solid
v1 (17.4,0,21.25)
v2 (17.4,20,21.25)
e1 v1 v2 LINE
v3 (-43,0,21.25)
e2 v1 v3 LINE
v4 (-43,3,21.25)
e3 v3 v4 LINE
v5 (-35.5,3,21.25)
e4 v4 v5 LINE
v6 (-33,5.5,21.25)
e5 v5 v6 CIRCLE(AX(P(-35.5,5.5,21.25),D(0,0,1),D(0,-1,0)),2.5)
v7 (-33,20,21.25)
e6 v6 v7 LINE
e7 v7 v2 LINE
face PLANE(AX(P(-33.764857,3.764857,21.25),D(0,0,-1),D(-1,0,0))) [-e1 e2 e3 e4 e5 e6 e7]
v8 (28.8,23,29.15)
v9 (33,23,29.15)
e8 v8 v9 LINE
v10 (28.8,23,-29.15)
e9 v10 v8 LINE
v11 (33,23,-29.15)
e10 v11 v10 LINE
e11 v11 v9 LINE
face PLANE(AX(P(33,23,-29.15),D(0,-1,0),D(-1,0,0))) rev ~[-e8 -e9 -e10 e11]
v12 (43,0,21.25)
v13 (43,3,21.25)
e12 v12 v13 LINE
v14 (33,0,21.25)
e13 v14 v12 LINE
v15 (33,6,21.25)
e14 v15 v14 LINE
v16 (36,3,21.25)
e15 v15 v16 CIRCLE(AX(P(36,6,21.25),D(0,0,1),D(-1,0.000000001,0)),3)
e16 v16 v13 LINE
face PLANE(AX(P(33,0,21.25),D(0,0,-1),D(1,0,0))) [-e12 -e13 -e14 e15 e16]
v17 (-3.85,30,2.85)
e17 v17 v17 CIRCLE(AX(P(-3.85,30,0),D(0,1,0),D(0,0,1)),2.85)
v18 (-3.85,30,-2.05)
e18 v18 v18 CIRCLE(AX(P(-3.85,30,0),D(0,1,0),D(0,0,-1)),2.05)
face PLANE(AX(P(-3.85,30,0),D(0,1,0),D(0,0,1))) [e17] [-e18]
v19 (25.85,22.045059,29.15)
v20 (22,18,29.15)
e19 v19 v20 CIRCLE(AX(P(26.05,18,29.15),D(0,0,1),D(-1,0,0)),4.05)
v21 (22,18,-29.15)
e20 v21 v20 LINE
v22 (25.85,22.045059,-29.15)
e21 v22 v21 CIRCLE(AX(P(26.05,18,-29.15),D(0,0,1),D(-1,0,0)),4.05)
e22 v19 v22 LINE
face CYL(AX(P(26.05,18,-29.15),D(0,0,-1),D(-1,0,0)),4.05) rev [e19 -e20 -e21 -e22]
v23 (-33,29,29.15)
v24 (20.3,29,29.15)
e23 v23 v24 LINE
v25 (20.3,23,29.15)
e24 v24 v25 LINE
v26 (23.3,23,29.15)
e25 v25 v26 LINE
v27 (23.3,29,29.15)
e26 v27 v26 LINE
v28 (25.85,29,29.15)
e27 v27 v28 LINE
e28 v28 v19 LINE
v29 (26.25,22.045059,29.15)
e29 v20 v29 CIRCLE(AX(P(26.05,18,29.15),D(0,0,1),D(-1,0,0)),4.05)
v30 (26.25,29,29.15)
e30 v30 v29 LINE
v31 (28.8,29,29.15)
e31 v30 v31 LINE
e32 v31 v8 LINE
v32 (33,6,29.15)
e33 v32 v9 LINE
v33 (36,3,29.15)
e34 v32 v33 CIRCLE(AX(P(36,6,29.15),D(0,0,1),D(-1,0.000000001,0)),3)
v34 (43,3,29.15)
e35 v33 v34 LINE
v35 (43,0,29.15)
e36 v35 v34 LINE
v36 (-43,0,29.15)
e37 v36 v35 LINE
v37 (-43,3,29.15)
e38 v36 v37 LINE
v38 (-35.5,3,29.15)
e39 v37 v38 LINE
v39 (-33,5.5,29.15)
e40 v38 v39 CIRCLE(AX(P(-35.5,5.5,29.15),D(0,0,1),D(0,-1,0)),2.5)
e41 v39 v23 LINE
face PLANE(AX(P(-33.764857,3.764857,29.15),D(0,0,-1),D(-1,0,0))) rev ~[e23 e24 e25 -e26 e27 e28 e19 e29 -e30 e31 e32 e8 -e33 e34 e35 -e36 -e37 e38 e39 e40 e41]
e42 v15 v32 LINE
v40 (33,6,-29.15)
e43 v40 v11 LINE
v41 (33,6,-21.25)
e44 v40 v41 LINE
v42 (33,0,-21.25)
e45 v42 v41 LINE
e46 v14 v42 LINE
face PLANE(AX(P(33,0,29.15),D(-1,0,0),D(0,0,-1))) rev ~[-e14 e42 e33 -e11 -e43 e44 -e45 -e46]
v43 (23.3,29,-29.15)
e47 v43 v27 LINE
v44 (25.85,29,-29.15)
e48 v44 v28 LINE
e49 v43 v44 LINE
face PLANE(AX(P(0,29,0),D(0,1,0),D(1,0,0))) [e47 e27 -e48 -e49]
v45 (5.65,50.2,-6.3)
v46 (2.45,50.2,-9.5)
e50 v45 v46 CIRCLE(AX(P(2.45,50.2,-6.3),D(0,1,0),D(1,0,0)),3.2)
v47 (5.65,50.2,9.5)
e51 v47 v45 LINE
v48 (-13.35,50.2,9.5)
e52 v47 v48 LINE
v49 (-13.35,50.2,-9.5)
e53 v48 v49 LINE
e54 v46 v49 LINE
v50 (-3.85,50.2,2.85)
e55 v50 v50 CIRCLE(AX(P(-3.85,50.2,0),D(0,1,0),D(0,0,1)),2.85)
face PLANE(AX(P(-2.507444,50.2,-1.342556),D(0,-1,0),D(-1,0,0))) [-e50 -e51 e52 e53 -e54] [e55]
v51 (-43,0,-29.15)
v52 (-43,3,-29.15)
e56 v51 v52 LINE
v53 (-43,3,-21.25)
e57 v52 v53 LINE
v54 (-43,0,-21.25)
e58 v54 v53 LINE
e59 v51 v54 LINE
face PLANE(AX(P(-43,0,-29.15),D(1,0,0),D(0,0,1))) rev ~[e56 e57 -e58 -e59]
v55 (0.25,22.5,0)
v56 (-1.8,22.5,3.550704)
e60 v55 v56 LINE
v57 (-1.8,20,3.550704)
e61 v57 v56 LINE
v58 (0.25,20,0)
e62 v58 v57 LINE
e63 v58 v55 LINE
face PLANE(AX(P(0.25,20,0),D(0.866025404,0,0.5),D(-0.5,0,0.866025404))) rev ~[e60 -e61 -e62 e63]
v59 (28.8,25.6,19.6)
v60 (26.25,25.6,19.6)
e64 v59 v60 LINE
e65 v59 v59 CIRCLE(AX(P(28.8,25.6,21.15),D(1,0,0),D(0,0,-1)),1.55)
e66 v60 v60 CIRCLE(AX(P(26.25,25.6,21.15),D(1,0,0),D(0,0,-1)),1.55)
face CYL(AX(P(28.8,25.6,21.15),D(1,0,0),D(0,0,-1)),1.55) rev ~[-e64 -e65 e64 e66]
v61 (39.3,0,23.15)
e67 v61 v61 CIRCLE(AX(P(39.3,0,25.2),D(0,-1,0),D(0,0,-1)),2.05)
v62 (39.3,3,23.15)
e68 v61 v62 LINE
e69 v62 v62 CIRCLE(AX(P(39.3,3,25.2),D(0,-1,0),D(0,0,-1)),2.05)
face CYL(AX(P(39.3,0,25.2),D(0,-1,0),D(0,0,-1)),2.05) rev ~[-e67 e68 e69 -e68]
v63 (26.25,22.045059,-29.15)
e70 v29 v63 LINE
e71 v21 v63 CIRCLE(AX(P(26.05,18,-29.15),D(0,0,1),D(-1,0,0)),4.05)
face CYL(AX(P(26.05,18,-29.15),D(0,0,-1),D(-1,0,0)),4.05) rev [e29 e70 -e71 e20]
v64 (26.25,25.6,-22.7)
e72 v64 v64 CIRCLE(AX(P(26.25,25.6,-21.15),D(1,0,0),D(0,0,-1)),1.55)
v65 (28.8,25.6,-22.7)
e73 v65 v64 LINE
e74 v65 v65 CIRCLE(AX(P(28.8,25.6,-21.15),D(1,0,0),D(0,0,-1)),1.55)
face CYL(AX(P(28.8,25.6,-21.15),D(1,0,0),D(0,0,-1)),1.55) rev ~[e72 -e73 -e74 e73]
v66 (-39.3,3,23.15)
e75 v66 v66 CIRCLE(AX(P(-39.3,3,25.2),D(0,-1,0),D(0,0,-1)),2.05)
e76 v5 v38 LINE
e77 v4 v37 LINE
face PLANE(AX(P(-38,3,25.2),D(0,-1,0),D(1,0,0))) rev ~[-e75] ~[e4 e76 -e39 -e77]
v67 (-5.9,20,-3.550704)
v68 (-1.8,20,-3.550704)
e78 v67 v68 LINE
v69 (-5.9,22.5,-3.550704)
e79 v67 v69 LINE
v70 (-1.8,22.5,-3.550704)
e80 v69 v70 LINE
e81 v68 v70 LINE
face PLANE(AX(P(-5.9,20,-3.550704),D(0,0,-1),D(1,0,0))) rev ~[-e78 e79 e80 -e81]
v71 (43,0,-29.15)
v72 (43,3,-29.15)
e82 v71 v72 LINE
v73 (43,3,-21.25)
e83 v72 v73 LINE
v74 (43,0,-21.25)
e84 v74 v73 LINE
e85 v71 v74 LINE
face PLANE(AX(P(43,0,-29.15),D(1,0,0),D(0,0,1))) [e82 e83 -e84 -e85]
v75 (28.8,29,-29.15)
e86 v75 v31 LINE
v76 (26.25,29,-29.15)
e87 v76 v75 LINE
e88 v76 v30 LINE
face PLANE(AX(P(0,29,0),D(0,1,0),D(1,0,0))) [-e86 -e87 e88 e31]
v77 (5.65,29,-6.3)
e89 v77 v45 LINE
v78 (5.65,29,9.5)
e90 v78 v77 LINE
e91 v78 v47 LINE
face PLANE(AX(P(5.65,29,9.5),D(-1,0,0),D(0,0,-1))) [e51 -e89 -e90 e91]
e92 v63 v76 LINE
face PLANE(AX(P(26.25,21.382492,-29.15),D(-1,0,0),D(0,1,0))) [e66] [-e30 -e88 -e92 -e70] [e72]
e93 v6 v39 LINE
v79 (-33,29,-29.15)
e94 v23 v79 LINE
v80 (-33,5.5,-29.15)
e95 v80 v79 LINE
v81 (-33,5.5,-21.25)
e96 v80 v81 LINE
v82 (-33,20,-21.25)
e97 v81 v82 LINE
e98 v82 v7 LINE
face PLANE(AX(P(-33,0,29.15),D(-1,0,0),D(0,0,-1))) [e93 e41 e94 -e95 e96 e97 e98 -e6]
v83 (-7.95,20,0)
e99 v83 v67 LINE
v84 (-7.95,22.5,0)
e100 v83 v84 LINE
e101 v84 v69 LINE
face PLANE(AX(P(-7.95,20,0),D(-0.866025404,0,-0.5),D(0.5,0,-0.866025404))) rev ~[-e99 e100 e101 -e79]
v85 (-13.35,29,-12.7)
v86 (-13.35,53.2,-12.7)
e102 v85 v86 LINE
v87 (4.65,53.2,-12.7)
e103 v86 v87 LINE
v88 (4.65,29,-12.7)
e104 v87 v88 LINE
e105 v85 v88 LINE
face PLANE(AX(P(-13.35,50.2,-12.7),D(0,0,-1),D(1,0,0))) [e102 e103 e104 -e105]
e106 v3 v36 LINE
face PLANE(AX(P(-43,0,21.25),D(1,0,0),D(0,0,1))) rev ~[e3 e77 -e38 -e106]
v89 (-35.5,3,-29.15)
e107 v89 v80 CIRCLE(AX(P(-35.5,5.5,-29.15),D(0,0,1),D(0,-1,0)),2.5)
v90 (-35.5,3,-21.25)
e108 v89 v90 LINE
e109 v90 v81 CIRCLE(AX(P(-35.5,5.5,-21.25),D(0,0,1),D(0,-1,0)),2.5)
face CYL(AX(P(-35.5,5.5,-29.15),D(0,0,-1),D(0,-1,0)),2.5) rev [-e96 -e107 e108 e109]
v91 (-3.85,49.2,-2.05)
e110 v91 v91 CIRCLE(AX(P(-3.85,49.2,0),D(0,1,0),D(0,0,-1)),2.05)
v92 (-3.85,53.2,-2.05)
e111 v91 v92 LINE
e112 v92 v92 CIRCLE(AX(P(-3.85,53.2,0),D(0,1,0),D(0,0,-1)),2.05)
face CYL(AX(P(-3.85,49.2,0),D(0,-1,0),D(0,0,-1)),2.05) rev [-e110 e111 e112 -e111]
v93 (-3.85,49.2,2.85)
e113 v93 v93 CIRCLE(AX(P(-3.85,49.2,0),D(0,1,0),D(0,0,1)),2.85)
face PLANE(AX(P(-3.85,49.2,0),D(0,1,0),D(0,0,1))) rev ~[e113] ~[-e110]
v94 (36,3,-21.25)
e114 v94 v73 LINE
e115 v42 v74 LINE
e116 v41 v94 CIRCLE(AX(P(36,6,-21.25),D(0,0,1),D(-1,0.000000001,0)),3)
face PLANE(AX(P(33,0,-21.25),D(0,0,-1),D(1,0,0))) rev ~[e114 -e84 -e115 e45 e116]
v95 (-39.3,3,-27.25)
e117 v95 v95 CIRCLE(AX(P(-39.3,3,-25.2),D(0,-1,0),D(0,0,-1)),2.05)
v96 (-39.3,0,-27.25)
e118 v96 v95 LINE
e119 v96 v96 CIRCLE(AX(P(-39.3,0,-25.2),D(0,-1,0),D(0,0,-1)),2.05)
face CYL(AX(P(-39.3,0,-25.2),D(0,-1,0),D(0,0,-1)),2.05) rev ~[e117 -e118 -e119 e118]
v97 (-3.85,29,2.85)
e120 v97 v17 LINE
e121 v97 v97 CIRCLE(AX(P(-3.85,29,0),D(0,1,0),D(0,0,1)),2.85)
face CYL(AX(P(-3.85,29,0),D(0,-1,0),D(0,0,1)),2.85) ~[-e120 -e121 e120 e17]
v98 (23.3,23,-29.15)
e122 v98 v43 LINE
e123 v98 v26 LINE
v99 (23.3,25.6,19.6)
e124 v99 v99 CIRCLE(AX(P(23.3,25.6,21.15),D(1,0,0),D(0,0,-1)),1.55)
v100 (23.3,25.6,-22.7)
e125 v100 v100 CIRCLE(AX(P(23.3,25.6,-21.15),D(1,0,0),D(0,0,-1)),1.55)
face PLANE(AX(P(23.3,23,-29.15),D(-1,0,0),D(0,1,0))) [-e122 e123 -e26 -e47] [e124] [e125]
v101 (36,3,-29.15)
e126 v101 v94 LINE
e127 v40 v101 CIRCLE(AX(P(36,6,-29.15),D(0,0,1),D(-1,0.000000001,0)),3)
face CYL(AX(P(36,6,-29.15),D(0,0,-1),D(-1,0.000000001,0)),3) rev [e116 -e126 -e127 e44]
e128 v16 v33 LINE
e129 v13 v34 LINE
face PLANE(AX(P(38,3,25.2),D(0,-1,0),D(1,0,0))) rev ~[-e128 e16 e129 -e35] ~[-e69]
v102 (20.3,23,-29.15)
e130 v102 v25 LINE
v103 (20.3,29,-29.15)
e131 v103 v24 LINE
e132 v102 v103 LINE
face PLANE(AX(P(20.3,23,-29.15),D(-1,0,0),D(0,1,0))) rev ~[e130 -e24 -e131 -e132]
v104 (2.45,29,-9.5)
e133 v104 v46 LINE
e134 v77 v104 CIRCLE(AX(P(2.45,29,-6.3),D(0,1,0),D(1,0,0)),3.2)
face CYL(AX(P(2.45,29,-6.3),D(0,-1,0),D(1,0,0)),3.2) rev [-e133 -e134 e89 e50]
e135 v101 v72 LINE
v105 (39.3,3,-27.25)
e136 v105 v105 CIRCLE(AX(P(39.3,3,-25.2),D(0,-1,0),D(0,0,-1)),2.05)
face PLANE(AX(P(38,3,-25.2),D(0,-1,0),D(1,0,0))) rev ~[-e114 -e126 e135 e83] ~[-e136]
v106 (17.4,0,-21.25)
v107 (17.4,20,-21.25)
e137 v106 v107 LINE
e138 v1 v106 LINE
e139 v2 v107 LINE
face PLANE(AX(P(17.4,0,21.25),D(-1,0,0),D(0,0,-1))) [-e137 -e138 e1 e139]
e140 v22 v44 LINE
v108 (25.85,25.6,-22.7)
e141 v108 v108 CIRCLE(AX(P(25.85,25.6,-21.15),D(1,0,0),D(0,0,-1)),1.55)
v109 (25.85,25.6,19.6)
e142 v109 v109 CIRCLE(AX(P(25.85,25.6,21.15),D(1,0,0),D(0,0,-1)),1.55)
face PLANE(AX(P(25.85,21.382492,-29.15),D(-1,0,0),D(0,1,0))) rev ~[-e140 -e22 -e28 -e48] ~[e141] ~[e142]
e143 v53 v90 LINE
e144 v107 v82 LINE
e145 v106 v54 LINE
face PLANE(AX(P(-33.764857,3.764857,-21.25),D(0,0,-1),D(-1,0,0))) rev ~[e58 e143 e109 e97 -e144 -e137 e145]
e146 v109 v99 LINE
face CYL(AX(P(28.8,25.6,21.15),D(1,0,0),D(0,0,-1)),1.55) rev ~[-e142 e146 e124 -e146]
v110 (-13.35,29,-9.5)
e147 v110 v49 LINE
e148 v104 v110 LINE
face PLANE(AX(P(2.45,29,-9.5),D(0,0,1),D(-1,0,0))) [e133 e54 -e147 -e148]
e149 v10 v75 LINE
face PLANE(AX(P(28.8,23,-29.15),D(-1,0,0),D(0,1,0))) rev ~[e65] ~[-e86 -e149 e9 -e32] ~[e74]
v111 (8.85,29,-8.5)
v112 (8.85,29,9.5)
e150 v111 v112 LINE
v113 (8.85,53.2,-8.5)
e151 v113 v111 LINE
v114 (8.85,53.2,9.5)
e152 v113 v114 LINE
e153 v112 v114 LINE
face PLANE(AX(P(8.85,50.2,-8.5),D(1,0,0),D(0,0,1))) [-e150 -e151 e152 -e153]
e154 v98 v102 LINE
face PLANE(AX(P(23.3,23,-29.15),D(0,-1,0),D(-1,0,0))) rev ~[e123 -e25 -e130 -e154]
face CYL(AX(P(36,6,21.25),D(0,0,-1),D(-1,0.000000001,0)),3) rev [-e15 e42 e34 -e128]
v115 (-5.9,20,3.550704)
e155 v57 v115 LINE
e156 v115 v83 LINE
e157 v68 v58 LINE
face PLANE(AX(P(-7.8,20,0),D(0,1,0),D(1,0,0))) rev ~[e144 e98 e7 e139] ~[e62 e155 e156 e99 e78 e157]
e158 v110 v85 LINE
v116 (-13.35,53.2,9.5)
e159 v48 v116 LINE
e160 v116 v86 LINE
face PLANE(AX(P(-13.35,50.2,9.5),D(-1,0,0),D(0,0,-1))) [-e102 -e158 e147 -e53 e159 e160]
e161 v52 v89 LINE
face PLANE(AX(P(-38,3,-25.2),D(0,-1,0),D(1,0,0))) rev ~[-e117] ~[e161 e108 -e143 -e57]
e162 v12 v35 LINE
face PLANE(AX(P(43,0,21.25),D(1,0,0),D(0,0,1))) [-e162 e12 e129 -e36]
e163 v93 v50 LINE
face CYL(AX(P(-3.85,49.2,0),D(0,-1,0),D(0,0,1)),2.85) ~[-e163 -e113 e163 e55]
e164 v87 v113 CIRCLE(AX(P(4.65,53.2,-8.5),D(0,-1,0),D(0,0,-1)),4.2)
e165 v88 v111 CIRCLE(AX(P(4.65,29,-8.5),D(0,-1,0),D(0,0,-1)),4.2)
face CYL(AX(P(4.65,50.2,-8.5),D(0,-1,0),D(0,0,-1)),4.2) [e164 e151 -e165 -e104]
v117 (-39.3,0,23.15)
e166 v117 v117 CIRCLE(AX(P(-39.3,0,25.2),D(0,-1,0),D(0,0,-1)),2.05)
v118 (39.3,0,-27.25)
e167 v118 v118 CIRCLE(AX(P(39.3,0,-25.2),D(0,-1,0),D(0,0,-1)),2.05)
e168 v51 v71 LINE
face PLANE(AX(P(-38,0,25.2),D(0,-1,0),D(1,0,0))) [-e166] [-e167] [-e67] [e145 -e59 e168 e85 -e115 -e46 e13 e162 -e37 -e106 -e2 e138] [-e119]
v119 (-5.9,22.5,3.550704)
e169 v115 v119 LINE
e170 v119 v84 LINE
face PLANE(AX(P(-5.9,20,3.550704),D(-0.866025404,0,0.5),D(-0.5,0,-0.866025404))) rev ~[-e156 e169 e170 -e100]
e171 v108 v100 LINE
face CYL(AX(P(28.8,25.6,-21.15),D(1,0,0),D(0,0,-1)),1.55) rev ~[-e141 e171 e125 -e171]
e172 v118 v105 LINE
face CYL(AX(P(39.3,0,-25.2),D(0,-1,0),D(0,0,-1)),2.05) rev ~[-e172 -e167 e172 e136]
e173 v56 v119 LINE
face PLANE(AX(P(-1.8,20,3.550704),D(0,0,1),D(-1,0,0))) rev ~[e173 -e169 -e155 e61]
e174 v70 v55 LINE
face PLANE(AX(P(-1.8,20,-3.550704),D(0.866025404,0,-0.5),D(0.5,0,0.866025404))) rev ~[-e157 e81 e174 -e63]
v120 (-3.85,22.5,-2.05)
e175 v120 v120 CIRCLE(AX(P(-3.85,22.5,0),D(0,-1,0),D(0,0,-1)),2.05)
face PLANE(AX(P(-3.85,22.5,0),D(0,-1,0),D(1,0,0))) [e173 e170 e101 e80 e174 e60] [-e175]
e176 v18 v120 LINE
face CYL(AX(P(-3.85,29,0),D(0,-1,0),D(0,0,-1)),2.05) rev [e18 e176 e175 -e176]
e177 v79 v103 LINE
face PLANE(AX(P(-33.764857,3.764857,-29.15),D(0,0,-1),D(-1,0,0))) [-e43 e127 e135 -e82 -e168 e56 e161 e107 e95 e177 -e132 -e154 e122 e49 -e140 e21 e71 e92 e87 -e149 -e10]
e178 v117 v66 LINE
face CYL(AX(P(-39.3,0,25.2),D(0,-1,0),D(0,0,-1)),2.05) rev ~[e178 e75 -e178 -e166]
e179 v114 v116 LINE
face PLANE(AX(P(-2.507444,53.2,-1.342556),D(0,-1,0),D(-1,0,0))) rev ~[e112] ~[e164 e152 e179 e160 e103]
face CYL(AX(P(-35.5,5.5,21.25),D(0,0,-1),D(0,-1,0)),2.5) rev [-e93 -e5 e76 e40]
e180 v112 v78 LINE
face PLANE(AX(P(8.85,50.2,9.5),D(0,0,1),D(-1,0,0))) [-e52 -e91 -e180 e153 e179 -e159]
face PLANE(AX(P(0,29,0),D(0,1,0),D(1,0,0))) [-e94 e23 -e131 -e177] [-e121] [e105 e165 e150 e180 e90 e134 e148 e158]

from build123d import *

# Parameters (mm, degrees)
SKETCH1_W           = 66
SKETCH1_H           = 58.3
SKETCH1_R           = 2.05
BOSS_EXTRUDE1_DEPTH = 29
CUT_EXTRUDE1_START  = -29
CUT_EXTRUDE1_DEPTH  = 20
SKETCH6_W           = 10
SKETCH6_H           = 7.9
SKETCH6_R           = 2.05
BOSS_EXTRUDE2_DEPTH = 3
BOSS_EXTRUDE4_DEPTH = 7.9
BOSS_EXTRUDE5_START = -50.4
BOSS_EXTRUDE5_DEPTH = 7.9
CUT_EXTRUDE4_START  = -58.3
SKETCH8_R           = 4.05
CUT_EXTRUDE4_DEPTH  = 58.3
CUT_EXTRUDE5_REACH  = 80.031
SKETCH10_W          = 3
SKETCH10_H          = 6
SKETCH10_W_2        = 4.2
SKETCH10_W_3        = 0.4
SKETCH10_H_2        = 7.617508416
CUT_EXTRUDE6_REACH  = 84.74
SKETCH11_R          = 1.55
CUT_EXTRUDE7_DEPTH  = 2.5
BOSS_EXTRUDE6_DEPTH = 21.2
SKETCH14_R          = 2.05
BOSS_EXTRUDE7_DEPTH = 3
BOSS_EXTRUDE8_START = -4
SKETCH15_R          = 2.85
SKETCH15_R_2        = 2.05
BOSS_EXTRUDE8_DEPTH = 1
BOSS_EXTRUDE9_START = -24.2
SKETCH15_2_R        = 2.85
SKETCH15_2_R_2      = 2.05
BOSS_EXTRUDE9_DEPTH = 1


with BuildPart() as part:
    # Sketch1 → Boss-Extrude1 (new body)
    with BuildSketch(Plane(origin=(0, 0, 0), x_dir=(1, 0, 0), z_dir=(0, 1, 0))):
        Rectangle(SKETCH1_W, SKETCH1_H)
        with Locations(Location((-3.85, 0, 0), (0, 0, 90))):
            Circle(SKETCH1_R, mode=Mode.SUBTRACT)
    extrude(amount=BOSS_EXTRUDE1_DEPTH)

    # Sketch3 → Cut-Extrude1 (cut)
    with BuildSketch(Plane(origin=(0, 29, 0), x_dir=(1, 0, 0), z_dir=(0, 1, 0)).offset(CUT_EXTRUDE1_START)):
        Polygon((-33, 21.25), (-33, -21.25), (17.4, -21.25), (17.4, 21.25), (-25.1, 21.25), align=None)
    extrude(amount=CUT_EXTRUDE1_DEPTH, mode=Mode.SUBTRACT)

    # Sketch6 → Boss-Extrude2 (add)
    # profile 1 of 4: a face of its own
    with BuildSketch(Plane.XZ):
        with Locations((-38, 25.2)):
            Rectangle(SKETCH6_W, SKETCH6_H)
        with Locations(Location((-39.3, 25.2, 0), (0, 0, 270))):
            Circle(SKETCH6_R, mode=Mode.SUBTRACT)
    # profile 2 of 4: a face of its own
    with BuildSketch(Plane.XZ):
        with Locations((-38, -25.2)):
            Rectangle(SKETCH6_W, SKETCH6_H)
        with Locations(Location((-39.3, -25.2, 0), (0, 0, 270))):
            Circle(SKETCH6_R, mode=Mode.SUBTRACT)
    # profile 3 of 4: a face of its own
    with BuildSketch(Plane.XZ):
        with Locations((38, 25.2)):
            Rectangle(SKETCH6_W, SKETCH6_H)
        with Locations(Location((39.3, 25.2, 0), (0, 0, 270))):
            Circle(SKETCH6_R, mode=Mode.SUBTRACT)
    # profile 4 of 4: a face of its own
    with BuildSketch(Plane.XZ):
        with Locations((38, -25.2)):
            Rectangle(SKETCH6_W, SKETCH6_H)
        with Locations(Location((39.3, -25.2, 0), (0, 0, 270))):
            Circle(SKETCH6_R, mode=Mode.SUBTRACT)
    extrude(amount=-BOSS_EXTRUDE2_DEPTH)

    # Sketch7 → Boss-Extrude4 (add)
    with BuildSketch(Plane(origin=(0, 0, -29.15), x_dir=(-1, 0, 0), z_dir=(0, 0, -1))):
        with BuildLine():
            ThreePointArc((35.5, 3), (33.732233047, 3.732233047), (33, 5.5))
            Line((33, 5.5), (33, 3))
            Line((33, 3), (35.5, 3))
        make_face()
        with BuildLine():
            ThreePointArc((-33, 6), (-33.878679656, 3.878679656), (-36, 3))
            Line((-36, 3), (-33, 3))
            Line((-33, 3), (-33, 6))
        make_face()
    extrude(amount=-BOSS_EXTRUDE4_DEPTH)

    # Sketch7<5> → Boss-Extrude5 (add)
    with BuildSketch(Plane(origin=(0, 0, -29.15), x_dir=(-1, 0, 0), z_dir=(0, 0, -1)).offset(BOSS_EXTRUDE5_START)):
        with BuildLine():
            ThreePointArc((35.5, 3), (33.732233047, 3.732233047), (33, 5.5))
            Line((33, 5.5), (33, 3))
            Line((33, 3), (35.5, 3))
        make_face()
        with BuildLine():
            ThreePointArc((-33, 6), (-33.878679656, 3.878679656), (-36, 3))
            Line((-36, 3), (-33, 3))
            Line((-33, 3), (-33, 6))
        make_face()
    extrude(amount=-BOSS_EXTRUDE5_DEPTH)

    # Sketch8 → Cut-Extrude4 (cut)
    with BuildSketch(Plane.XY.offset(29.15).offset(CUT_EXTRUDE4_START)):
        with Locations(Location((26.05, 18, 0), (0, 0, 180))):
            Circle(SKETCH8_R)
    extrude(amount=CUT_EXTRUDE4_DEPTH, mode=Mode.SUBTRACT)

    # Sketch10 → Cut-Extrude5 (cut, up to next)
    with BuildSketch(Plane(origin=(0, 0, -29.15), x_dir=(-1, 0, 0), z_dir=(0, 0, -1)), mode=Mode.PRIVATE) as cut_extrude5_sk1:
        with Locations((-21.8, 26)):
            Rectangle(SKETCH10_W, SKETCH10_H)
    cut_extrude5_tool1 = extrude(cut_extrude5_sk1.sketch, amount=-CUT_EXTRUDE5_REACH, mode=Mode.PRIVATE) & part.part
    # Sketch10 → Cut-Extrude5 (cut, up to next)
    with BuildSketch(Plane(origin=(0, 0, -29.15), x_dir=(-1, 0, 0), z_dir=(0, 0, -1)), mode=Mode.PRIVATE) as cut_extrude5_sk2:
        with Locations((-30.9, 26)):
            Rectangle(SKETCH10_W_2, SKETCH10_H)
    cut_extrude5_tool2 = extrude(cut_extrude5_sk2.sketch, amount=-CUT_EXTRUDE5_REACH, mode=Mode.PRIVATE) & part.part
    # Sketch10 → Cut-Extrude5 (cut, up to next)
    with BuildSketch(Plane(origin=(0, 0, -29.15), x_dir=(-1, 0, 0), z_dir=(0, 0, -1)), mode=Mode.PRIVATE) as cut_extrude5_sk3:
        with Locations((-26.05, 25.191245792)):
            Rectangle(SKETCH10_W_3, SKETCH10_H_2)
    cut_extrude5_tool3 = extrude(cut_extrude5_sk3.sketch, amount=-CUT_EXTRUDE5_REACH, mode=Mode.PRIVATE) & part.part
    add(cut_extrude5_tool1.solids().sort_by_distance((21.8, 26, -29.15))[0], mode=Mode.SUBTRACT)
    add(cut_extrude5_tool2.solids().sort_by_distance((30.9, 26, -29.15))[0], mode=Mode.SUBTRACT)
    add(cut_extrude5_tool3.solids().sort_by_distance((26.05, 25.191246, -29.15))[0], mode=Mode.SUBTRACT)

    # Cut-Extrude6: up to this face of the body (flat: up to its plane)
    cut_extrude6_end = Plane(part.part.faces().sort_by_distance((23.3, 26, 0))[0])
    # Sketch11 → Cut-Extrude6 (cut, up to the picked face)
    with BuildSketch(Plane(origin=(28.8, 0, 0), x_dir=(0, 0, -1), z_dir=(1, 0, 0)), mode=Mode.PRIVATE) as cut_extrude6_sk1:
        with Locations((-21.15, 25.6)):
            Circle(SKETCH11_R)
    cut_extrude6_tool1 = split(extrude(cut_extrude6_sk1.sketch, amount=-CUT_EXTRUDE6_REACH, mode=Mode.PRIVATE), bisect_by=cut_extrude6_end, keep=Keep.BOTH, mode=Mode.PRIVATE)
    # Sketch11 → Cut-Extrude6 (cut, up to the picked face)
    with BuildSketch(Plane(origin=(28.8, 0, 0), x_dir=(0, 0, -1), z_dir=(1, 0, 0)), mode=Mode.PRIVATE) as cut_extrude6_sk2:
        with Locations((21.15, 25.6)):
            Circle(SKETCH11_R)
    cut_extrude6_tool2 = split(extrude(cut_extrude6_sk2.sketch, amount=-CUT_EXTRUDE6_REACH, mode=Mode.PRIVATE), bisect_by=cut_extrude6_end, keep=Keep.BOTH, mode=Mode.PRIVATE)
    add(cut_extrude6_tool1.solids().sort_by(Axis((28.8, 25.6, 21.15), (-1, 0, 0)))[0], mode=Mode.SUBTRACT)
    add(cut_extrude6_tool2.solids().sort_by(Axis((28.8, 25.6, -21.15), (-1, 0, 0)))[0], mode=Mode.SUBTRACT)

    # Sketch12 → Cut-Extrude7 (cut)
    with BuildSketch(Plane.XZ.offset(-20)):
        Polygon((-7.95, 0), (-5.9, -3.550704156), (-1.8, -3.550704156), (0.25, 0), (-1.8, 3.550704156), (-5.9, 3.550704156), align=None)
    extrude(amount=-CUT_EXTRUDE7_DEPTH, mode=Mode.SUBTRACT)

    # Sketch13 → Boss-Extrude6 (add)
    with BuildSketch(Plane(origin=(0, 29, 0), x_dir=(1, 0, 0), z_dir=(0, 1, 0))):
        with BuildLine():
            Line((-13.35, 9.5), (-13.35, 12.7))
            Line((-13.35, 12.7), (4.65, 12.7))
            ThreePointArc((4.65, 12.7), (7.619848481, 11.469848481), (8.85, 8.5))
            Line((8.85, 8.5), (8.85, -9.5))
            Line((8.85, -9.5), (5.65, -9.5))
            Line((5.65, -9.5), (5.65, 6.3))
            ThreePointArc((5.65, 6.3), (4.7127417, 8.5627417), (2.45, 9.5))
            Line((2.45, 9.5), (-13.35, 9.5))
        make_face()
    extrude(amount=BOSS_EXTRUDE6_DEPTH)

    # Sketch14 → Boss-Extrude7 (add)
    with BuildSketch(Plane(origin=(0, 50.2, 0), x_dir=(1, 0, 0), z_dir=(0, 1, 0))):
        with BuildLine():
            Line((-13.35, 12.7), (4.65, 12.7))
            ThreePointArc((4.65, 12.7), (7.619848481, 11.469848481), (8.85, 8.5))
            Line((8.85, 8.5), (8.85, -9.5))
            Line((8.85, -9.5), (-13.35, -9.5))
            Line((-13.35, -9.5), (-13.35, 12.7))
        make_face()
        with Locations(Location((-3.85, 0, 0), (0, 0, 90))):
            Circle(SKETCH14_R, mode=Mode.SUBTRACT)
    extrude(amount=BOSS_EXTRUDE7_DEPTH)

    # Sketch15 → Boss-Extrude8 (add)
    with BuildSketch(Plane(origin=(0, 53.2, 0), x_dir=(1, 0, 0), z_dir=(0, 1, 0)).offset(BOSS_EXTRUDE8_START)):
        with Locations(Location((-3.85, 0, 0), (0, 0, 270))):
            Circle(SKETCH15_R)
        with Locations(Location((-3.85, 0, 0), (0, 0, 90))):
            Circle(SKETCH15_R_2, mode=Mode.SUBTRACT)
    extrude(amount=BOSS_EXTRUDE8_DEPTH)

    # Sketch15<2> → Boss-Extrude9 (add)
    with BuildSketch(Plane(origin=(0, 53.2, 0), x_dir=(1, 0, 0), z_dir=(0, 1, 0)).offset(BOSS_EXTRUDE9_START)):
        with Locations(Location((-3.85, 0, 0), (0, 0, 270))):
            Circle(SKETCH15_2_R)
        with Locations(Location((-3.85, 0, 0), (0, 0, 90))):
            Circle(SKETCH15_2_R_2, mode=Mode.SUBTRACT)
    extrude(amount=BOSS_EXTRUDE9_DEPTH)


solid = part.part
